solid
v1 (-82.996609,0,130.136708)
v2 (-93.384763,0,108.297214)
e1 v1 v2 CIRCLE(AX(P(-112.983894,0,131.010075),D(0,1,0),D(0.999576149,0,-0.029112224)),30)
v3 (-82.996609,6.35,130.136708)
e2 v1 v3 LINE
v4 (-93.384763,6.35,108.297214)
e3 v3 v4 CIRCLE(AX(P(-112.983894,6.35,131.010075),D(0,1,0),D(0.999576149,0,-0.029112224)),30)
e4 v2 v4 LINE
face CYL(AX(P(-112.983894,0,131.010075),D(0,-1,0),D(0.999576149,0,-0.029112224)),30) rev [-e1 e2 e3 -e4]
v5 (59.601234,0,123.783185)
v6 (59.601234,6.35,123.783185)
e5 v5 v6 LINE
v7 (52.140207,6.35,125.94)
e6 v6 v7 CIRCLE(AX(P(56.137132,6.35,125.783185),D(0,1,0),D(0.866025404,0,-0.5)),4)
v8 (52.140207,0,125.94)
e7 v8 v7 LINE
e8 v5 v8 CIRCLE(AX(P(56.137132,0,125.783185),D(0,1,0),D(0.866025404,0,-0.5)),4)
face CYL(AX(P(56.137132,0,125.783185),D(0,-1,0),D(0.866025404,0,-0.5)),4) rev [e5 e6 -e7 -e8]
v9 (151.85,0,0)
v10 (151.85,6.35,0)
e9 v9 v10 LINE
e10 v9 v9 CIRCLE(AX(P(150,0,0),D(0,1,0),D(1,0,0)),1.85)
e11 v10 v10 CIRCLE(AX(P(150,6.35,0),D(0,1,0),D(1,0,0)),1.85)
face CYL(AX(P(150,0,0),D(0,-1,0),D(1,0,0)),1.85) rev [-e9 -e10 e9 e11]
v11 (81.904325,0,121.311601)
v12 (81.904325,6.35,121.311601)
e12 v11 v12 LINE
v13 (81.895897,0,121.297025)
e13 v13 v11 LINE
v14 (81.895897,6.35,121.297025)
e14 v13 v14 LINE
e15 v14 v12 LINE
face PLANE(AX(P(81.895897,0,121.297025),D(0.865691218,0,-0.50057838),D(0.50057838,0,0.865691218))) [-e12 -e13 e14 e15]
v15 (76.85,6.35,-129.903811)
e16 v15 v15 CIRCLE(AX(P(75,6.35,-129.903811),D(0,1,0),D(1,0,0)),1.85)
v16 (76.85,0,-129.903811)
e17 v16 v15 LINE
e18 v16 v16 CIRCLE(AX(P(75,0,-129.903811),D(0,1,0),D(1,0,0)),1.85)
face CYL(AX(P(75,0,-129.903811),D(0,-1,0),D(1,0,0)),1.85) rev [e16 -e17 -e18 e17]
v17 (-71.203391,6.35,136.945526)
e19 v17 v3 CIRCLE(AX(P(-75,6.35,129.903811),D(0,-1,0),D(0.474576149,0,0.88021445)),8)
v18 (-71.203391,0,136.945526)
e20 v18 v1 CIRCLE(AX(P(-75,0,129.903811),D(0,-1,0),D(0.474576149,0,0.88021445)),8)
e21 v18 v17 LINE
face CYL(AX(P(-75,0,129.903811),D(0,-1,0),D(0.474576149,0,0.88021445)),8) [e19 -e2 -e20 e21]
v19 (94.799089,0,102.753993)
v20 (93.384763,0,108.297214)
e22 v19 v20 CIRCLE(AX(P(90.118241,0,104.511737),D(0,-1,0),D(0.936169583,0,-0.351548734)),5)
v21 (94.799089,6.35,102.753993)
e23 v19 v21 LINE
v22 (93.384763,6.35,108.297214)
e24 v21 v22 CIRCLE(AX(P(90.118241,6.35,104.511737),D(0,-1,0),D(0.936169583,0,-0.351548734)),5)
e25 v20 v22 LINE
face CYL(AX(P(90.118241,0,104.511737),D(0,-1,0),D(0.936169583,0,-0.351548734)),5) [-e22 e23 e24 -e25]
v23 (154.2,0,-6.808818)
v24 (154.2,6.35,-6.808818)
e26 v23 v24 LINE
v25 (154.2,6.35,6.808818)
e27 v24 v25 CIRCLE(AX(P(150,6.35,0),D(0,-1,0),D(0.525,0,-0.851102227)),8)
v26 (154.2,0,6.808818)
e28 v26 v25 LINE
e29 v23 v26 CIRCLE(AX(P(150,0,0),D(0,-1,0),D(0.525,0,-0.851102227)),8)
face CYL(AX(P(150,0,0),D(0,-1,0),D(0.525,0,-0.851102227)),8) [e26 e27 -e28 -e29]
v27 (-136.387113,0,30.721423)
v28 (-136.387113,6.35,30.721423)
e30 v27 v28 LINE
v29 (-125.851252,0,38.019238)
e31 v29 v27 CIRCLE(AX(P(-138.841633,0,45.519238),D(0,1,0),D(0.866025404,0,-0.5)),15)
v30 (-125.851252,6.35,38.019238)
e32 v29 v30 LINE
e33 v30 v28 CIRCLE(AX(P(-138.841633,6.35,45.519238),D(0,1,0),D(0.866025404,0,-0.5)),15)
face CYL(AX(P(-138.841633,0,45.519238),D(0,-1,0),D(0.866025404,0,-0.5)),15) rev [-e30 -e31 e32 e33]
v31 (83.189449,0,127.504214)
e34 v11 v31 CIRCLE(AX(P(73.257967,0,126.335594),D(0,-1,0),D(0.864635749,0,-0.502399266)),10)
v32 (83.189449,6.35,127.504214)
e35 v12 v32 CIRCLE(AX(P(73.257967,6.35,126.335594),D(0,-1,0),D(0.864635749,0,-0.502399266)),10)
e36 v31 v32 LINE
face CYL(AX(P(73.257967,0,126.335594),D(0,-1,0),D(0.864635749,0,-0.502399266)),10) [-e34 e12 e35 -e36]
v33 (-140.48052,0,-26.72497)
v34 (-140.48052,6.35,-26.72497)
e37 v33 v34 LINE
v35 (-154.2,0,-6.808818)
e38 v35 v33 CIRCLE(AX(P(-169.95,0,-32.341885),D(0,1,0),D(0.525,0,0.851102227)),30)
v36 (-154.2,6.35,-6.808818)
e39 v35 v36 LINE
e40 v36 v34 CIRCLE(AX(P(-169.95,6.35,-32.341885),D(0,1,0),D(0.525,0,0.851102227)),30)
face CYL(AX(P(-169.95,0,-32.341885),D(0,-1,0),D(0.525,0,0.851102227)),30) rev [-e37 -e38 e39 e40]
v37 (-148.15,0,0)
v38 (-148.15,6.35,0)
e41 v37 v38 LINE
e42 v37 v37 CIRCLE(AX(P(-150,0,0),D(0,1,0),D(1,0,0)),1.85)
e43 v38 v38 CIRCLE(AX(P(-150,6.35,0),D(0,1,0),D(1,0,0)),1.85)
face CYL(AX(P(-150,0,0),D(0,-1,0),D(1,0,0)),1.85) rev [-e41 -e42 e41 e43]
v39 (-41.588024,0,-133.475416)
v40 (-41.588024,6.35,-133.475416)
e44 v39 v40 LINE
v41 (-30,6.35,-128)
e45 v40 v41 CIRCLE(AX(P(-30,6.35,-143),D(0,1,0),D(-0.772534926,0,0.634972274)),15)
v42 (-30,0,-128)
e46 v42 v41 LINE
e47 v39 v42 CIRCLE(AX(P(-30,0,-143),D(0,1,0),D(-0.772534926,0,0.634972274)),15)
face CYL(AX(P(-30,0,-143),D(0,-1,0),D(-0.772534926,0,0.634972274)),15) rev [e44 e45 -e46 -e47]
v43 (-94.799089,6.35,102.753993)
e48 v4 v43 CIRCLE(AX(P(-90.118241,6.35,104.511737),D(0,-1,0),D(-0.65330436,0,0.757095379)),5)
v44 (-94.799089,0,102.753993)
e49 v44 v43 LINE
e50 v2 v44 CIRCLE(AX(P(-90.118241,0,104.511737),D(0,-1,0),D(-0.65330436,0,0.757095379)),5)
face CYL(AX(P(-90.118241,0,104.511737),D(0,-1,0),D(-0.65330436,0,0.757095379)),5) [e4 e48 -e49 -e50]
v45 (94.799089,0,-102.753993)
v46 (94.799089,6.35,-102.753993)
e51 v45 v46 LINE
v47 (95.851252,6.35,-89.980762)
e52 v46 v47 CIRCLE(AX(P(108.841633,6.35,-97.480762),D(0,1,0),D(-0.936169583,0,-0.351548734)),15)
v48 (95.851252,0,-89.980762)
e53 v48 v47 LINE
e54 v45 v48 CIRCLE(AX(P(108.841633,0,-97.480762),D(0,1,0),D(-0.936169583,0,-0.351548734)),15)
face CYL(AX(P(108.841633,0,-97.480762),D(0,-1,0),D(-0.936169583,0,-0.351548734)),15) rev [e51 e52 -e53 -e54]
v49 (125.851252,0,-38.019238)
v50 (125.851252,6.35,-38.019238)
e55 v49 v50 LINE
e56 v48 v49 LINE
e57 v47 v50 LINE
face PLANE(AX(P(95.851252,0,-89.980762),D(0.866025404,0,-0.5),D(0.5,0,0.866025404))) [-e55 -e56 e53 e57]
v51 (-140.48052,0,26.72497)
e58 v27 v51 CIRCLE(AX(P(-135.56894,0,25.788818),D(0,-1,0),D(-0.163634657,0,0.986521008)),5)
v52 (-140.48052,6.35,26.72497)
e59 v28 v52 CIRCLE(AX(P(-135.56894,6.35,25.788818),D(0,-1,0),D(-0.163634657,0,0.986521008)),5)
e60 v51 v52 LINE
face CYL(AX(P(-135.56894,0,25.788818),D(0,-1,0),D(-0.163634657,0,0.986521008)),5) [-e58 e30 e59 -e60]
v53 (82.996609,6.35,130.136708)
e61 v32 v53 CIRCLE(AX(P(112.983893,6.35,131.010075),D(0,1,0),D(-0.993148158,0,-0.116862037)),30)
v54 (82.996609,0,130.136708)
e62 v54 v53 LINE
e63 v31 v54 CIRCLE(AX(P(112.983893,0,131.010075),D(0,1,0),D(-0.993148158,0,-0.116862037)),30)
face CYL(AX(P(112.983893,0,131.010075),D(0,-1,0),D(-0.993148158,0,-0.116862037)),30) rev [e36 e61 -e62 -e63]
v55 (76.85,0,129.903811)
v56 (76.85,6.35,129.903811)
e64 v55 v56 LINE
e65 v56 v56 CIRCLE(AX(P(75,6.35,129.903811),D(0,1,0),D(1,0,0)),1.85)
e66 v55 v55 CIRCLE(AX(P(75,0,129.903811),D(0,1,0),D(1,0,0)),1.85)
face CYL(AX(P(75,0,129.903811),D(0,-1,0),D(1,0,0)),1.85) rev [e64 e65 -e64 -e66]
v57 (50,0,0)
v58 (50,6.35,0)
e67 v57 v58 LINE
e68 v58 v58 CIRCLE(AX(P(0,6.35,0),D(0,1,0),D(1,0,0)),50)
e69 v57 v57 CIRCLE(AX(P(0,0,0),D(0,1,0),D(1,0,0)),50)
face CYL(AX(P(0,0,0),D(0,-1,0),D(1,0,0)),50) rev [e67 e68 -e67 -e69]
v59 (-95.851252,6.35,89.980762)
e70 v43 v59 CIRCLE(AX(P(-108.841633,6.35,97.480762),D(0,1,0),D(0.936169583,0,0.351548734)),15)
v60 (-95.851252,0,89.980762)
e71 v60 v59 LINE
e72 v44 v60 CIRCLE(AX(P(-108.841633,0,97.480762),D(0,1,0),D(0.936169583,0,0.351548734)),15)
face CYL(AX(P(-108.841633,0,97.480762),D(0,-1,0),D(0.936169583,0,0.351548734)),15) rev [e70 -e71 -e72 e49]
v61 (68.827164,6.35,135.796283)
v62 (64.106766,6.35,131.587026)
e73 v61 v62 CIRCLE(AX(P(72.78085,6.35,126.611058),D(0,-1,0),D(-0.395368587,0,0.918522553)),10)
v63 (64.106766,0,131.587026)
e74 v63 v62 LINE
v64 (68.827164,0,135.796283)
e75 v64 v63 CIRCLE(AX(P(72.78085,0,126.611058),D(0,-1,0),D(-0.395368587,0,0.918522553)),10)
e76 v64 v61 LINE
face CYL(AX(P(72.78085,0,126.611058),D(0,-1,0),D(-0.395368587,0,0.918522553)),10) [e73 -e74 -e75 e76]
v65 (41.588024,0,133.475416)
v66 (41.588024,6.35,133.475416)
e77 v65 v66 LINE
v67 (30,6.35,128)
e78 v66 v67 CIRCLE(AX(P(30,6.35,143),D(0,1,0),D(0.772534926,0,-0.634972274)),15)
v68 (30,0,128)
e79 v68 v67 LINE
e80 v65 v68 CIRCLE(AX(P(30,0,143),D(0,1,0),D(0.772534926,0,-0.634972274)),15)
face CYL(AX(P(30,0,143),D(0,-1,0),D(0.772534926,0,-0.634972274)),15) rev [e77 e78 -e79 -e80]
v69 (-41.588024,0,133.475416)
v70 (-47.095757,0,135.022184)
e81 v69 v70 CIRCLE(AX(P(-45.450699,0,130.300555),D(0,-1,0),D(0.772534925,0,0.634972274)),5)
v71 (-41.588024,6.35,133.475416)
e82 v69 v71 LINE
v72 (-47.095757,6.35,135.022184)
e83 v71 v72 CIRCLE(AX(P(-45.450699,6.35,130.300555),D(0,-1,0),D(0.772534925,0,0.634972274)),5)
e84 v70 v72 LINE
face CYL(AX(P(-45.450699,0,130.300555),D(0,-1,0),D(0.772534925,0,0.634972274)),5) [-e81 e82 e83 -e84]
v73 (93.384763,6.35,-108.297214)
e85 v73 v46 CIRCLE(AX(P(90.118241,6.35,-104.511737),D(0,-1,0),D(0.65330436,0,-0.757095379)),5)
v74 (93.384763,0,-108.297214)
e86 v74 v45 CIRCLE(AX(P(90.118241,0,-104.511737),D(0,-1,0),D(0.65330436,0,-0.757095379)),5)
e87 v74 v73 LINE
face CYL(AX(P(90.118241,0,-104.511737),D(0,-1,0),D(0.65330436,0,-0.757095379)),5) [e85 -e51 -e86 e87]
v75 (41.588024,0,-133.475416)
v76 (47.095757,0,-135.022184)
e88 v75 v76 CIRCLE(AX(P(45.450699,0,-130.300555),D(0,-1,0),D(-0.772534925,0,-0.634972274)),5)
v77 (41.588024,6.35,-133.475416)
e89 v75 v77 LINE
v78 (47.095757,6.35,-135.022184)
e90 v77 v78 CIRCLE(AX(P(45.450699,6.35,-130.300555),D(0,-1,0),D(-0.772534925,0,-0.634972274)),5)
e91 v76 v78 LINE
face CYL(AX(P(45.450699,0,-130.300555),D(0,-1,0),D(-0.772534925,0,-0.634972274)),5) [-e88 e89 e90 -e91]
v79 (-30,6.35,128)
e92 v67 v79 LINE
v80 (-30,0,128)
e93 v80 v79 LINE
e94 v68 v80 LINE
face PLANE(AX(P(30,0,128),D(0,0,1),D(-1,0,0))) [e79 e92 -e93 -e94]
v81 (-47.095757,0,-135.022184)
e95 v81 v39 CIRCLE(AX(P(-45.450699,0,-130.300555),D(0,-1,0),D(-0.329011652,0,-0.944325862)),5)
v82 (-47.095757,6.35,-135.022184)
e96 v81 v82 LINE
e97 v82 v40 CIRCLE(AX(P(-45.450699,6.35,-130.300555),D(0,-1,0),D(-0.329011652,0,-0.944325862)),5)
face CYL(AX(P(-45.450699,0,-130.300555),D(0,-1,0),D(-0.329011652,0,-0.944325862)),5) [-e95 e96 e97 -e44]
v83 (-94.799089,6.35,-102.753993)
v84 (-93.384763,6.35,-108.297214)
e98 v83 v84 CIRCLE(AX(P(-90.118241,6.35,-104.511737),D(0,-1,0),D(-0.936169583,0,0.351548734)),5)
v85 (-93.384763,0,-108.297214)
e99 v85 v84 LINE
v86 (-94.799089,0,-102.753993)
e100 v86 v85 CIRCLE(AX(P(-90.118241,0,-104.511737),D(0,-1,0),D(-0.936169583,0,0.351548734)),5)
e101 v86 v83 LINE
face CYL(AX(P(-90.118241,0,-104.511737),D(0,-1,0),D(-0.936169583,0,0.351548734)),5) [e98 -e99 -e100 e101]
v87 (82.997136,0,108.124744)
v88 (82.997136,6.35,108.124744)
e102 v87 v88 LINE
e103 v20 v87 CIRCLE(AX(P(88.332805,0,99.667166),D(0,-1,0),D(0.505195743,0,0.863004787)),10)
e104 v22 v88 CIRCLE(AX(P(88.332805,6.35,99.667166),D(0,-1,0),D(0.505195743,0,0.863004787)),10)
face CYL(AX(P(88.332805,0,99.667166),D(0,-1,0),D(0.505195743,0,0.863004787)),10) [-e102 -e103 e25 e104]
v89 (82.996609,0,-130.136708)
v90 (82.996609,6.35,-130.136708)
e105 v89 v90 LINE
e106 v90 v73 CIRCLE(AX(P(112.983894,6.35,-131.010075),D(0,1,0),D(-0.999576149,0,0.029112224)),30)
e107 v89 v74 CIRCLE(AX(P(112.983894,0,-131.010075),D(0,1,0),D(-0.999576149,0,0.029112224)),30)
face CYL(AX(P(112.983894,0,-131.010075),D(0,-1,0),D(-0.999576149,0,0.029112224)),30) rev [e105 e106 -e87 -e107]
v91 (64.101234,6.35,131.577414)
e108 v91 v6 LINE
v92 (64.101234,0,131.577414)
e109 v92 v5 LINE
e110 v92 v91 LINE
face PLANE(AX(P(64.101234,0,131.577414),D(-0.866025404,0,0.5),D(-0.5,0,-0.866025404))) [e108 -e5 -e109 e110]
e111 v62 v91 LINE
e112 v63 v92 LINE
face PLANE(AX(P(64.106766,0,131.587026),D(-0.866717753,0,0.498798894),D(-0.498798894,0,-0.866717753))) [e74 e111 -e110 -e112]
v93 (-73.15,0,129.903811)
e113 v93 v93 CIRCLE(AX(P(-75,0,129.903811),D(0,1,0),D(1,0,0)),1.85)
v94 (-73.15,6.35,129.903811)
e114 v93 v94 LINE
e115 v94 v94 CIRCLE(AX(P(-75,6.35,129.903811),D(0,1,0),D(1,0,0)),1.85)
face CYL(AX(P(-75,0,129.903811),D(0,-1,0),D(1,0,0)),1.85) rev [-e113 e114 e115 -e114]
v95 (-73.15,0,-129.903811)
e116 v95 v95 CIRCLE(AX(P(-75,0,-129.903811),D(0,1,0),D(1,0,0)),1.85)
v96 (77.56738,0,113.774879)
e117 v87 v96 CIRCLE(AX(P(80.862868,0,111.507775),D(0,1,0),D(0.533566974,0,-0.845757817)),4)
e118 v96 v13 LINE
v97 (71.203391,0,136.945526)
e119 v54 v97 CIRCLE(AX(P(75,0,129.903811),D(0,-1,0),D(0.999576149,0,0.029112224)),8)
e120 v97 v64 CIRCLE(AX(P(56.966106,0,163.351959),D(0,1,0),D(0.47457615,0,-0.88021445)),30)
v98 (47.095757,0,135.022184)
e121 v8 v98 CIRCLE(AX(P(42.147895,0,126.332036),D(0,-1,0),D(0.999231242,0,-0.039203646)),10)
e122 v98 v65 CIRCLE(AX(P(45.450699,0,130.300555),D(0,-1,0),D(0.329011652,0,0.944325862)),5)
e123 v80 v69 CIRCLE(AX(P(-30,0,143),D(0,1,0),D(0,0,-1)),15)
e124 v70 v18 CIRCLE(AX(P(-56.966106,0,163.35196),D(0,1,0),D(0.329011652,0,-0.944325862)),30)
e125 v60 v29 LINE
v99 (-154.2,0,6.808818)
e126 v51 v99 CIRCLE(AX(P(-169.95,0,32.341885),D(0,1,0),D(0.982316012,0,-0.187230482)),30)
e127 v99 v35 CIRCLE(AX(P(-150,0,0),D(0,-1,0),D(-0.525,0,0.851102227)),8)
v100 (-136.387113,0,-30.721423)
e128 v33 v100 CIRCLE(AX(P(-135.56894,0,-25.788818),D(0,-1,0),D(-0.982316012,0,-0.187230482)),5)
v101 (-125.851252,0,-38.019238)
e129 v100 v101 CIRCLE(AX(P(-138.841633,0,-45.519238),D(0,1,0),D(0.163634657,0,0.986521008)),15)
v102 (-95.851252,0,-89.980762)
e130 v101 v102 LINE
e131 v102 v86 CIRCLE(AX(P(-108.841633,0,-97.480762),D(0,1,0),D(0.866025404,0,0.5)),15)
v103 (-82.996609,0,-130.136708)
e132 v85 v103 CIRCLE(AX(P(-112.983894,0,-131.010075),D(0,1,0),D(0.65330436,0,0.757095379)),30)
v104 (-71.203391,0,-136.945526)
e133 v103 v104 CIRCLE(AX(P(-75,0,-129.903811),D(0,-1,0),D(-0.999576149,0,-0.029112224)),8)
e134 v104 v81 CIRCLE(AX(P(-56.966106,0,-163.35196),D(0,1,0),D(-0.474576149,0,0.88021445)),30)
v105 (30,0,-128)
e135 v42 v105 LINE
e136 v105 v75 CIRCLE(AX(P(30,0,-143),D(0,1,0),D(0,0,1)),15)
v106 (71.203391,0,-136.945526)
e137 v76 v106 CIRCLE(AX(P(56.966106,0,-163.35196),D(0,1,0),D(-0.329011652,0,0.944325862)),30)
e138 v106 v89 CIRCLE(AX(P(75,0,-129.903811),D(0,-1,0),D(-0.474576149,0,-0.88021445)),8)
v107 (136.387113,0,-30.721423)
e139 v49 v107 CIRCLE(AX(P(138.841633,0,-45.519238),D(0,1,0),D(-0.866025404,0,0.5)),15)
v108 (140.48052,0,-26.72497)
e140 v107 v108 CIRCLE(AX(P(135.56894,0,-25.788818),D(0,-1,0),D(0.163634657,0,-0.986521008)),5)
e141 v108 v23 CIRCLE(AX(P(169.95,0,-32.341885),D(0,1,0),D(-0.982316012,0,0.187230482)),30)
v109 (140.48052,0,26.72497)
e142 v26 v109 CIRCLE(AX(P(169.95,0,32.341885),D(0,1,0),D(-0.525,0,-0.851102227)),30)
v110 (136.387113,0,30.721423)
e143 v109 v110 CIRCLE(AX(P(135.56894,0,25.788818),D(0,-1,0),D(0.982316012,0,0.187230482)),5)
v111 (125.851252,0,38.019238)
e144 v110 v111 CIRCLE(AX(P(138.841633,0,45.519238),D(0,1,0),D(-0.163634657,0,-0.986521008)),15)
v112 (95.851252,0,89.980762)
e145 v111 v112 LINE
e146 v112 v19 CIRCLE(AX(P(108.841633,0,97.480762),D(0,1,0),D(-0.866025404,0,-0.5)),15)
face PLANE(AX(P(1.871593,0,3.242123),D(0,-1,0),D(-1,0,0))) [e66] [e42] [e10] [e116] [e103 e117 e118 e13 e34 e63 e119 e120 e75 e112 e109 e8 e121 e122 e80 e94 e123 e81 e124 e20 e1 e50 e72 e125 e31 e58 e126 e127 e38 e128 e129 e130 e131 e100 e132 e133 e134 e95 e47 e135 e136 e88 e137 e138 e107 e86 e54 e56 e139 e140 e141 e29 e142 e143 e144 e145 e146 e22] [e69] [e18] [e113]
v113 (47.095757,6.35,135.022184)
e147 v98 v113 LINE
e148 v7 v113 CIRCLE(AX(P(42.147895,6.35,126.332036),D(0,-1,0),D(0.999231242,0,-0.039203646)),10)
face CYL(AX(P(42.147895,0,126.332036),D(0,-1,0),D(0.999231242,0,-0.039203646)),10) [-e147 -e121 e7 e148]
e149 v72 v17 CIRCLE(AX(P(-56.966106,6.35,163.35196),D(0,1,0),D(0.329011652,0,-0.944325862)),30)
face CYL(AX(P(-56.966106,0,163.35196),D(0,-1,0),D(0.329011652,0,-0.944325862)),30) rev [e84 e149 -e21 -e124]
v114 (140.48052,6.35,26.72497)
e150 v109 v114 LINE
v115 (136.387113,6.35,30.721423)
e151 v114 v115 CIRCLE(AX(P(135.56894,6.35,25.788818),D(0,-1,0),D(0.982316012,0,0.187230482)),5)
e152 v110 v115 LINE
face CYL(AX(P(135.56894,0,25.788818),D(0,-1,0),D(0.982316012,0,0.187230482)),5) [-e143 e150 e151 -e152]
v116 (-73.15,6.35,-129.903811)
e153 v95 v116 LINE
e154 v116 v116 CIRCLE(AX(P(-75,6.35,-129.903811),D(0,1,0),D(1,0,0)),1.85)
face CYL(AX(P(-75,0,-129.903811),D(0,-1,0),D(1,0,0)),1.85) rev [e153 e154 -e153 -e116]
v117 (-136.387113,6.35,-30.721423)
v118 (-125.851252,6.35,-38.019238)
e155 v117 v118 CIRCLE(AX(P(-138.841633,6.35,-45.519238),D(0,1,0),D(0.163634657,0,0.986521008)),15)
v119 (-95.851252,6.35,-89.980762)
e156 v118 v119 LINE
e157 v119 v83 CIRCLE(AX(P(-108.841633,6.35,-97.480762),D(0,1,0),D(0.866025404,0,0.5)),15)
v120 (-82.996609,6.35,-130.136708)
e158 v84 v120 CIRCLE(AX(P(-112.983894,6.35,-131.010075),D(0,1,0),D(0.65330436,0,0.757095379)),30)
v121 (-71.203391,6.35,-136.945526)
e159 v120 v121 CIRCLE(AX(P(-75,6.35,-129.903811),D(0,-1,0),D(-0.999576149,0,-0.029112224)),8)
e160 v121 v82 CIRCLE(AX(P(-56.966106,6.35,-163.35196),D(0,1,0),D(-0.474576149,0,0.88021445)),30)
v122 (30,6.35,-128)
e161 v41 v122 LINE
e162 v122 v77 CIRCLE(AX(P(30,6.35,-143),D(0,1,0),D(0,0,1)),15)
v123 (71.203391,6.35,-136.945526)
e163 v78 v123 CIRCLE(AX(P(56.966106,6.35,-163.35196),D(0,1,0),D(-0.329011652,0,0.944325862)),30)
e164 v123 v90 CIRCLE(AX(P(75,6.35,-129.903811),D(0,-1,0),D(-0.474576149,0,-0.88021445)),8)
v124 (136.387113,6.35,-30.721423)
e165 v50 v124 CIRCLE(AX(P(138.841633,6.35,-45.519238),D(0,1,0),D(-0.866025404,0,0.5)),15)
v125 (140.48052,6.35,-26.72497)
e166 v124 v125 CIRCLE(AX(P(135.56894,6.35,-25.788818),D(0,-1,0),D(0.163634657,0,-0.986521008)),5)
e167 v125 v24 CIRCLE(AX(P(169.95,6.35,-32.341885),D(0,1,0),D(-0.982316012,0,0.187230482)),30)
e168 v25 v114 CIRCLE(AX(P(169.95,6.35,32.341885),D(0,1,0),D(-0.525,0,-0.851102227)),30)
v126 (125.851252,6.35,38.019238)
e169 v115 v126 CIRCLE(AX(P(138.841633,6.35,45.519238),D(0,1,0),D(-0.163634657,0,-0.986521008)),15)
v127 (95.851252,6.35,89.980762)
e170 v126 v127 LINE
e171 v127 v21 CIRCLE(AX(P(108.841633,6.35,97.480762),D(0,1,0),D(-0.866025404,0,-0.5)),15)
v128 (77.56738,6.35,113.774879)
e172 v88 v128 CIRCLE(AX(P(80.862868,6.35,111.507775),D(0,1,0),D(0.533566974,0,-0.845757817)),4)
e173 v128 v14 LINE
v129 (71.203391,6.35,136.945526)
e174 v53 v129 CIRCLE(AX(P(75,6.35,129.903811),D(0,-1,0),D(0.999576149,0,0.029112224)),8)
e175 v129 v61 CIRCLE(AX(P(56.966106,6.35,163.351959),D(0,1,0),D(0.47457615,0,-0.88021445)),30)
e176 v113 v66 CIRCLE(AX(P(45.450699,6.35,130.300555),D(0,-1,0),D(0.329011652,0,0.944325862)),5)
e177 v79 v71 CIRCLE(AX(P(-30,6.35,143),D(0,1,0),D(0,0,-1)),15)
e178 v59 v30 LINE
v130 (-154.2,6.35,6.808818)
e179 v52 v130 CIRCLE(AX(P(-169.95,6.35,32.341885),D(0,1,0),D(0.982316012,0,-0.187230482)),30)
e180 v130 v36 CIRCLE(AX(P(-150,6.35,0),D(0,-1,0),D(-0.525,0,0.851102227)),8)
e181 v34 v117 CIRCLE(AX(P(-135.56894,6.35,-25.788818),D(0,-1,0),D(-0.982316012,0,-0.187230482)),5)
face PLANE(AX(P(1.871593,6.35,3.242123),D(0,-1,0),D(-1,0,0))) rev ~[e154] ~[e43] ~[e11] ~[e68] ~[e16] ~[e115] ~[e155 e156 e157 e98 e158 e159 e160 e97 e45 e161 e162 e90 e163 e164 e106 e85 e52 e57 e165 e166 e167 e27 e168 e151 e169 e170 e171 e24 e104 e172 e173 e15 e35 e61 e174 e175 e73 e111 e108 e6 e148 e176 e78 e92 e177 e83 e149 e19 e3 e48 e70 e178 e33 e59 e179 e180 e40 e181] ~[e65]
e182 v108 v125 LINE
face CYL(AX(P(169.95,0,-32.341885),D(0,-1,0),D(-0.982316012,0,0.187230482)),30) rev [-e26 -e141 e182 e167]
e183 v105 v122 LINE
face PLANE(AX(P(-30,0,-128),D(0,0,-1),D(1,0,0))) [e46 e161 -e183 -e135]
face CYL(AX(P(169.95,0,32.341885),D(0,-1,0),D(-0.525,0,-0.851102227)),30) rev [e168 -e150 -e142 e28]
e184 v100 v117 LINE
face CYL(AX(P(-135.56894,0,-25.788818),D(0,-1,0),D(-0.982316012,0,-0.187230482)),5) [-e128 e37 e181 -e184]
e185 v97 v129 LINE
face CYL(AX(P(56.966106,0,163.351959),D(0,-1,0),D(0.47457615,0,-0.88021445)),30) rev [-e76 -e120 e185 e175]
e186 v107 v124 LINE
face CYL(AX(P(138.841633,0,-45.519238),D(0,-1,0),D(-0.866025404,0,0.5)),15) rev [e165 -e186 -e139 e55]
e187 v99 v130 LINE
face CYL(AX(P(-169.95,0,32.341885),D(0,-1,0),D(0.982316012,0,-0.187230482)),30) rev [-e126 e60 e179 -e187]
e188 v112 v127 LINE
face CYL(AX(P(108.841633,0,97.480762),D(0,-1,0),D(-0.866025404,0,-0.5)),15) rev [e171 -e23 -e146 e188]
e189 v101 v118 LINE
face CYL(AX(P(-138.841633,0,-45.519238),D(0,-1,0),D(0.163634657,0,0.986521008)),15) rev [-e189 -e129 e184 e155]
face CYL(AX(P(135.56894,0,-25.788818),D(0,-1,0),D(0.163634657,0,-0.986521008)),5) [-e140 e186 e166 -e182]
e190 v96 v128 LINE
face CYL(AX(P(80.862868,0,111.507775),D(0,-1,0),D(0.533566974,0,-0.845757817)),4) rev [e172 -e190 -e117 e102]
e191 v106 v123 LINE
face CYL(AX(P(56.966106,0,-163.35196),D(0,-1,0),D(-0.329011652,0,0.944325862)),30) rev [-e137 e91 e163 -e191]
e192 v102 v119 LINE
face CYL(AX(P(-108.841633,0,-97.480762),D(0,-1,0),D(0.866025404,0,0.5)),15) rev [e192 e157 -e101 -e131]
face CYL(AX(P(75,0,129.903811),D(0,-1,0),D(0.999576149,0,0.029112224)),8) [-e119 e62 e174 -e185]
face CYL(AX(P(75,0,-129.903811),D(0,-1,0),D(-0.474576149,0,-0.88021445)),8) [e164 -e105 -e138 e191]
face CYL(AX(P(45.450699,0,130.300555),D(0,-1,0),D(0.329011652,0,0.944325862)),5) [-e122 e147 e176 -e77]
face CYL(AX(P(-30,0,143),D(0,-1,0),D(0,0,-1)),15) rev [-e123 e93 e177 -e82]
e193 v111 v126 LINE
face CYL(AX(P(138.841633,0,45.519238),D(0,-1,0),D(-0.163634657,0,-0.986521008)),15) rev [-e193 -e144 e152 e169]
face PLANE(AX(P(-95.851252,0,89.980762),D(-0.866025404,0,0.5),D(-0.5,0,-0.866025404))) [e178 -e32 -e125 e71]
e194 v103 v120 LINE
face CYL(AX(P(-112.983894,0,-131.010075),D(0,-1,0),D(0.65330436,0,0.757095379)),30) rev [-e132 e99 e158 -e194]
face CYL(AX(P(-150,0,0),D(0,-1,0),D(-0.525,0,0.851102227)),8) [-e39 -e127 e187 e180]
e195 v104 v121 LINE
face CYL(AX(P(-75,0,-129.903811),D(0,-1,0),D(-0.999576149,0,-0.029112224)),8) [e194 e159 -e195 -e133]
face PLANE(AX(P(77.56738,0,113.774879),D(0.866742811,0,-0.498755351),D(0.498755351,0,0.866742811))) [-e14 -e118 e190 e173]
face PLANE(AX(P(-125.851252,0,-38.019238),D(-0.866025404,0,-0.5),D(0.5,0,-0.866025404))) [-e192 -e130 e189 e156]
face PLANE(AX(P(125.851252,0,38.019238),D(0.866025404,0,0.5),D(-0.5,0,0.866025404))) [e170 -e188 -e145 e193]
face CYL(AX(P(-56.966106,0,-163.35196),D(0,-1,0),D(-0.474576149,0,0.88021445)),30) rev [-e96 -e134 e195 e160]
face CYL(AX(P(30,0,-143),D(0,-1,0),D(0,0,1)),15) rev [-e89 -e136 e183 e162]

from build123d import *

# Parameters (mm, degrees)
SKETCH1_R           = 1.85
SKETCH1_R_2         = 50
BOSS_EXTRUDE1_DEPTH = 6.35


with BuildPart() as part:
    # Sketch1 → Boss-Extrude1 (new body)
    with BuildSketch(Plane(origin=(0, 0, 0), x_dir=(1, 0, 0), z_dir=(0, 1, 0))):
        with BuildLine():
            Line((77.567379868, -113.774878941), (81.895896581, -121.29702529))
            Line((81.895896581, -121.29702529), (81.904324829, -121.31160095))
            ThreePointArc((81.904324829, -121.31160095), (83.049348254, -124.303633996), (83.189448927, -127.504213973))
            ThreePointArc((83.189448927, -127.504213973), (83.064062558, -128.818339264), (82.996609195, -130.136708357))
            ThreePointArc((82.996609195, -130.136708357), (79, -136.832013798), (71.203390805, -136.94552617))
            ThreePointArc((71.203390805, -136.94552617), (70.027922997, -136.344757949), (68.827163927, -135.796283084))
            ThreePointArc((68.827163927, -135.796283084), (66.125430696, -134.074662353), (64.106765781, -131.587026457))
            Line((64.106765781, -131.587026457), (64.101233791, -131.577414018))
            Line((64.101233791, -131.577414018), (59.601233791, -123.783185384))
            ThreePointArc((59.601233791, -123.783185384), (55.026304797, -121.940521916), (52.14020721, -125.939999968))
            ThreePointArc((52.14020721, -125.939999968), (50.889960833, -131.187577731), (47.09575677, -135.022183828))
            ThreePointArc((47.09575677, -135.022183828), (44.098818948, -135.114328678), (41.588023883, -133.475415889))
            ThreePointArc((41.588023883, -133.475415889), (36.408246185, -129.437759004), (30, -128))
            Line((30, -128), (-30, -128))
            ThreePointArc((-30, -128), (-36.408246185, -129.437759004), (-41.588023883, -133.475415889))
            ThreePointArc((-41.588023883, -133.475415889), (-44.098818948, -135.114328677), (-47.09575677, -135.022183828))
            ThreePointArc((-47.09575677, -135.022183828), (-59.351969188, -133.446982526), (-71.203390805, -136.94552617))
            ThreePointArc((-71.203390805, -136.94552617), (-79, -136.832013798), (-82.996609195, -130.136708357))
            ThreePointArc((-82.996609195, -130.136708357), (-85.892492332, -118.123804344), (-93.384762884, -108.297213687))
            ThreePointArc((-93.384762884, -108.297213687), (-94.963031576, -105.747861824), (-94.799088999, -102.753993121))
            ThreePointArc((-94.799088999, -102.753993121), (-93.892264414, -96.249345606), (-95.851251684, -89.980762113))
            Line((-95.851251684, -89.980762113), (-125.851251684, -38.019237886))
            ThreePointArc((-125.851251684, -38.019237886), (-130.300510599, -33.188413398), (-136.387112883, -30.721422769))
            ThreePointArc((-136.387112883, -30.721422769), (-139.061850524, -29.366466853), (-140.480519654, -26.724970141))
            ThreePointArc((-140.480519654, -26.724970141), (-145.24446152, -15.323178182), (-154.2, -6.808817812))
            ThreePointArc((-154.2, -6.808817812), (-158, 0), (-154.2, 6.808817812))
            ThreePointArc((-154.2, 6.808817812), (-145.24446152, 15.323178182), (-140.480519654, 26.72497014))
            ThreePointArc((-140.480519654, 26.72497014), (-139.061850524, 29.366466853), (-136.387112883, 30.721422769))
            ThreePointArc((-136.387112883, 30.721422769), (-130.300510599, 33.188413398), (-125.851251684, 38.019237887))
            Line((-125.851251684, 38.019237887), (-95.851251684, 89.980762114))
            ThreePointArc((-95.851251684, 89.980762114), (-93.892264414, 96.249345606), (-94.799088999, 102.753993121))
            ThreePointArc((-94.799088999, 102.753993121), (-94.963031576, 105.747861824), (-93.384762884, 108.297213687))
            ThreePointArc((-93.384762884, 108.297213687), (-85.892492332, 118.123804344), (-82.996609195, 130.136708357))
            ThreePointArc((-82.996609195, 130.136708357), (-79, 136.832013798), (-71.203390805, 136.94552617))
            ThreePointArc((-71.203390805, 136.94552617), (-59.351969188, 133.446982526), (-47.09575677, 135.022183827))
            ThreePointArc((-47.09575677, 135.022183827), (-44.098818948, 135.114328677), (-41.588023883, 133.475415889))
            ThreePointArc((-41.588023883, 133.475415889), (-36.408246185, 129.437759004), (-30, 128))
            Line((-30, 128), (30, 128))
            ThreePointArc((30, 128), (36.408246185, 129.437759004), (41.588023883, 133.475415889))
            ThreePointArc((41.588023883, 133.475415889), (44.098818948, 135.114328677), (47.09575677, 135.022183827))
            ThreePointArc((47.09575677, 135.022183827), (59.351969188, 133.446982526), (71.203390805, 136.94552617))
            ThreePointArc((71.203390805, 136.94552617), (79, 136.832013798), (82.996609195, 130.136708357))
            ThreePointArc((82.996609195, 130.136708357), (85.892492332, 118.123804344), (93.384762884, 108.297213687))
            ThreePointArc((93.384762884, 108.297213687), (94.963031576, 105.747861824), (94.799088999, 102.753993121))
            ThreePointArc((94.799088999, 102.753993121), (93.892264414, 96.249345606), (95.851251684, 89.980762113))
            Line((95.851251684, 89.980762113), (125.851251684, 38.019237886))
            ThreePointArc((125.851251684, 38.019237886), (130.300510599, 33.188413398), (136.387112882, 30.721422769))
            ThreePointArc((136.387112882, 30.721422769), (139.061850524, 29.366466853), (140.480519654, 26.72497014))
            ThreePointArc((140.480519654, 26.72497014), (145.24446152, 15.323178182), (154.2, 6.808817812))
            ThreePointArc((154.2, 6.808817812), (158, 0), (154.2, -6.808817812))
            ThreePointArc((154.2, -6.808817812), (145.24446152, -15.323178182), (140.480519654, -26.72497014))
            ThreePointArc((140.480519654, -26.72497014), (139.061850524, -29.366466853), (136.387112882, -30.721422769))
            ThreePointArc((136.387112882, -30.721422769), (130.300510599, -33.188413399), (125.851251684, -38.019237887))
            Line((125.851251684, -38.019237887), (95.851251684, -89.980762114))
            ThreePointArc((95.851251684, -89.980762114), (93.892264414, -96.249345606), (94.799088999, -102.753993121))
            ThreePointArc((94.799088999, -102.753993121), (94.963031576, -105.747861824), (93.384762884, -108.297213687))
            ThreePointArc((93.384762884, -108.297213687), (88.166794559, -109.665787745), (82.997135719, -108.124743986))
            ThreePointArc((82.997135719, -108.124743986), (77.978753703, -108.736153752), (77.567379868, -113.774878941))
        make_face()
        with Locations((-75, -129.903810568)):
            Circle(SKETCH1_R, mode=Mode.SUBTRACT)
        with Locations((75, -129.903810568)):
            Circle(SKETCH1_R, mode=Mode.SUBTRACT)
        with Locations((150, 0)):
            Circle(SKETCH1_R, mode=Mode.SUBTRACT)
        with Locations((75, 129.903810568)):
            Circle(SKETCH1_R, mode=Mode.SUBTRACT)
        with Locations((-75, 129.903810568)):
            Circle(SKETCH1_R, mode=Mode.SUBTRACT)
        with Locations((-150, 0)):
            Circle(SKETCH1_R, mode=Mode.SUBTRACT)
        Circle(SKETCH1_R_2, mode=Mode.SUBTRACT)
    extrude(amount=BOSS_EXTRUDE1_DEPTH)


solid = part.part
